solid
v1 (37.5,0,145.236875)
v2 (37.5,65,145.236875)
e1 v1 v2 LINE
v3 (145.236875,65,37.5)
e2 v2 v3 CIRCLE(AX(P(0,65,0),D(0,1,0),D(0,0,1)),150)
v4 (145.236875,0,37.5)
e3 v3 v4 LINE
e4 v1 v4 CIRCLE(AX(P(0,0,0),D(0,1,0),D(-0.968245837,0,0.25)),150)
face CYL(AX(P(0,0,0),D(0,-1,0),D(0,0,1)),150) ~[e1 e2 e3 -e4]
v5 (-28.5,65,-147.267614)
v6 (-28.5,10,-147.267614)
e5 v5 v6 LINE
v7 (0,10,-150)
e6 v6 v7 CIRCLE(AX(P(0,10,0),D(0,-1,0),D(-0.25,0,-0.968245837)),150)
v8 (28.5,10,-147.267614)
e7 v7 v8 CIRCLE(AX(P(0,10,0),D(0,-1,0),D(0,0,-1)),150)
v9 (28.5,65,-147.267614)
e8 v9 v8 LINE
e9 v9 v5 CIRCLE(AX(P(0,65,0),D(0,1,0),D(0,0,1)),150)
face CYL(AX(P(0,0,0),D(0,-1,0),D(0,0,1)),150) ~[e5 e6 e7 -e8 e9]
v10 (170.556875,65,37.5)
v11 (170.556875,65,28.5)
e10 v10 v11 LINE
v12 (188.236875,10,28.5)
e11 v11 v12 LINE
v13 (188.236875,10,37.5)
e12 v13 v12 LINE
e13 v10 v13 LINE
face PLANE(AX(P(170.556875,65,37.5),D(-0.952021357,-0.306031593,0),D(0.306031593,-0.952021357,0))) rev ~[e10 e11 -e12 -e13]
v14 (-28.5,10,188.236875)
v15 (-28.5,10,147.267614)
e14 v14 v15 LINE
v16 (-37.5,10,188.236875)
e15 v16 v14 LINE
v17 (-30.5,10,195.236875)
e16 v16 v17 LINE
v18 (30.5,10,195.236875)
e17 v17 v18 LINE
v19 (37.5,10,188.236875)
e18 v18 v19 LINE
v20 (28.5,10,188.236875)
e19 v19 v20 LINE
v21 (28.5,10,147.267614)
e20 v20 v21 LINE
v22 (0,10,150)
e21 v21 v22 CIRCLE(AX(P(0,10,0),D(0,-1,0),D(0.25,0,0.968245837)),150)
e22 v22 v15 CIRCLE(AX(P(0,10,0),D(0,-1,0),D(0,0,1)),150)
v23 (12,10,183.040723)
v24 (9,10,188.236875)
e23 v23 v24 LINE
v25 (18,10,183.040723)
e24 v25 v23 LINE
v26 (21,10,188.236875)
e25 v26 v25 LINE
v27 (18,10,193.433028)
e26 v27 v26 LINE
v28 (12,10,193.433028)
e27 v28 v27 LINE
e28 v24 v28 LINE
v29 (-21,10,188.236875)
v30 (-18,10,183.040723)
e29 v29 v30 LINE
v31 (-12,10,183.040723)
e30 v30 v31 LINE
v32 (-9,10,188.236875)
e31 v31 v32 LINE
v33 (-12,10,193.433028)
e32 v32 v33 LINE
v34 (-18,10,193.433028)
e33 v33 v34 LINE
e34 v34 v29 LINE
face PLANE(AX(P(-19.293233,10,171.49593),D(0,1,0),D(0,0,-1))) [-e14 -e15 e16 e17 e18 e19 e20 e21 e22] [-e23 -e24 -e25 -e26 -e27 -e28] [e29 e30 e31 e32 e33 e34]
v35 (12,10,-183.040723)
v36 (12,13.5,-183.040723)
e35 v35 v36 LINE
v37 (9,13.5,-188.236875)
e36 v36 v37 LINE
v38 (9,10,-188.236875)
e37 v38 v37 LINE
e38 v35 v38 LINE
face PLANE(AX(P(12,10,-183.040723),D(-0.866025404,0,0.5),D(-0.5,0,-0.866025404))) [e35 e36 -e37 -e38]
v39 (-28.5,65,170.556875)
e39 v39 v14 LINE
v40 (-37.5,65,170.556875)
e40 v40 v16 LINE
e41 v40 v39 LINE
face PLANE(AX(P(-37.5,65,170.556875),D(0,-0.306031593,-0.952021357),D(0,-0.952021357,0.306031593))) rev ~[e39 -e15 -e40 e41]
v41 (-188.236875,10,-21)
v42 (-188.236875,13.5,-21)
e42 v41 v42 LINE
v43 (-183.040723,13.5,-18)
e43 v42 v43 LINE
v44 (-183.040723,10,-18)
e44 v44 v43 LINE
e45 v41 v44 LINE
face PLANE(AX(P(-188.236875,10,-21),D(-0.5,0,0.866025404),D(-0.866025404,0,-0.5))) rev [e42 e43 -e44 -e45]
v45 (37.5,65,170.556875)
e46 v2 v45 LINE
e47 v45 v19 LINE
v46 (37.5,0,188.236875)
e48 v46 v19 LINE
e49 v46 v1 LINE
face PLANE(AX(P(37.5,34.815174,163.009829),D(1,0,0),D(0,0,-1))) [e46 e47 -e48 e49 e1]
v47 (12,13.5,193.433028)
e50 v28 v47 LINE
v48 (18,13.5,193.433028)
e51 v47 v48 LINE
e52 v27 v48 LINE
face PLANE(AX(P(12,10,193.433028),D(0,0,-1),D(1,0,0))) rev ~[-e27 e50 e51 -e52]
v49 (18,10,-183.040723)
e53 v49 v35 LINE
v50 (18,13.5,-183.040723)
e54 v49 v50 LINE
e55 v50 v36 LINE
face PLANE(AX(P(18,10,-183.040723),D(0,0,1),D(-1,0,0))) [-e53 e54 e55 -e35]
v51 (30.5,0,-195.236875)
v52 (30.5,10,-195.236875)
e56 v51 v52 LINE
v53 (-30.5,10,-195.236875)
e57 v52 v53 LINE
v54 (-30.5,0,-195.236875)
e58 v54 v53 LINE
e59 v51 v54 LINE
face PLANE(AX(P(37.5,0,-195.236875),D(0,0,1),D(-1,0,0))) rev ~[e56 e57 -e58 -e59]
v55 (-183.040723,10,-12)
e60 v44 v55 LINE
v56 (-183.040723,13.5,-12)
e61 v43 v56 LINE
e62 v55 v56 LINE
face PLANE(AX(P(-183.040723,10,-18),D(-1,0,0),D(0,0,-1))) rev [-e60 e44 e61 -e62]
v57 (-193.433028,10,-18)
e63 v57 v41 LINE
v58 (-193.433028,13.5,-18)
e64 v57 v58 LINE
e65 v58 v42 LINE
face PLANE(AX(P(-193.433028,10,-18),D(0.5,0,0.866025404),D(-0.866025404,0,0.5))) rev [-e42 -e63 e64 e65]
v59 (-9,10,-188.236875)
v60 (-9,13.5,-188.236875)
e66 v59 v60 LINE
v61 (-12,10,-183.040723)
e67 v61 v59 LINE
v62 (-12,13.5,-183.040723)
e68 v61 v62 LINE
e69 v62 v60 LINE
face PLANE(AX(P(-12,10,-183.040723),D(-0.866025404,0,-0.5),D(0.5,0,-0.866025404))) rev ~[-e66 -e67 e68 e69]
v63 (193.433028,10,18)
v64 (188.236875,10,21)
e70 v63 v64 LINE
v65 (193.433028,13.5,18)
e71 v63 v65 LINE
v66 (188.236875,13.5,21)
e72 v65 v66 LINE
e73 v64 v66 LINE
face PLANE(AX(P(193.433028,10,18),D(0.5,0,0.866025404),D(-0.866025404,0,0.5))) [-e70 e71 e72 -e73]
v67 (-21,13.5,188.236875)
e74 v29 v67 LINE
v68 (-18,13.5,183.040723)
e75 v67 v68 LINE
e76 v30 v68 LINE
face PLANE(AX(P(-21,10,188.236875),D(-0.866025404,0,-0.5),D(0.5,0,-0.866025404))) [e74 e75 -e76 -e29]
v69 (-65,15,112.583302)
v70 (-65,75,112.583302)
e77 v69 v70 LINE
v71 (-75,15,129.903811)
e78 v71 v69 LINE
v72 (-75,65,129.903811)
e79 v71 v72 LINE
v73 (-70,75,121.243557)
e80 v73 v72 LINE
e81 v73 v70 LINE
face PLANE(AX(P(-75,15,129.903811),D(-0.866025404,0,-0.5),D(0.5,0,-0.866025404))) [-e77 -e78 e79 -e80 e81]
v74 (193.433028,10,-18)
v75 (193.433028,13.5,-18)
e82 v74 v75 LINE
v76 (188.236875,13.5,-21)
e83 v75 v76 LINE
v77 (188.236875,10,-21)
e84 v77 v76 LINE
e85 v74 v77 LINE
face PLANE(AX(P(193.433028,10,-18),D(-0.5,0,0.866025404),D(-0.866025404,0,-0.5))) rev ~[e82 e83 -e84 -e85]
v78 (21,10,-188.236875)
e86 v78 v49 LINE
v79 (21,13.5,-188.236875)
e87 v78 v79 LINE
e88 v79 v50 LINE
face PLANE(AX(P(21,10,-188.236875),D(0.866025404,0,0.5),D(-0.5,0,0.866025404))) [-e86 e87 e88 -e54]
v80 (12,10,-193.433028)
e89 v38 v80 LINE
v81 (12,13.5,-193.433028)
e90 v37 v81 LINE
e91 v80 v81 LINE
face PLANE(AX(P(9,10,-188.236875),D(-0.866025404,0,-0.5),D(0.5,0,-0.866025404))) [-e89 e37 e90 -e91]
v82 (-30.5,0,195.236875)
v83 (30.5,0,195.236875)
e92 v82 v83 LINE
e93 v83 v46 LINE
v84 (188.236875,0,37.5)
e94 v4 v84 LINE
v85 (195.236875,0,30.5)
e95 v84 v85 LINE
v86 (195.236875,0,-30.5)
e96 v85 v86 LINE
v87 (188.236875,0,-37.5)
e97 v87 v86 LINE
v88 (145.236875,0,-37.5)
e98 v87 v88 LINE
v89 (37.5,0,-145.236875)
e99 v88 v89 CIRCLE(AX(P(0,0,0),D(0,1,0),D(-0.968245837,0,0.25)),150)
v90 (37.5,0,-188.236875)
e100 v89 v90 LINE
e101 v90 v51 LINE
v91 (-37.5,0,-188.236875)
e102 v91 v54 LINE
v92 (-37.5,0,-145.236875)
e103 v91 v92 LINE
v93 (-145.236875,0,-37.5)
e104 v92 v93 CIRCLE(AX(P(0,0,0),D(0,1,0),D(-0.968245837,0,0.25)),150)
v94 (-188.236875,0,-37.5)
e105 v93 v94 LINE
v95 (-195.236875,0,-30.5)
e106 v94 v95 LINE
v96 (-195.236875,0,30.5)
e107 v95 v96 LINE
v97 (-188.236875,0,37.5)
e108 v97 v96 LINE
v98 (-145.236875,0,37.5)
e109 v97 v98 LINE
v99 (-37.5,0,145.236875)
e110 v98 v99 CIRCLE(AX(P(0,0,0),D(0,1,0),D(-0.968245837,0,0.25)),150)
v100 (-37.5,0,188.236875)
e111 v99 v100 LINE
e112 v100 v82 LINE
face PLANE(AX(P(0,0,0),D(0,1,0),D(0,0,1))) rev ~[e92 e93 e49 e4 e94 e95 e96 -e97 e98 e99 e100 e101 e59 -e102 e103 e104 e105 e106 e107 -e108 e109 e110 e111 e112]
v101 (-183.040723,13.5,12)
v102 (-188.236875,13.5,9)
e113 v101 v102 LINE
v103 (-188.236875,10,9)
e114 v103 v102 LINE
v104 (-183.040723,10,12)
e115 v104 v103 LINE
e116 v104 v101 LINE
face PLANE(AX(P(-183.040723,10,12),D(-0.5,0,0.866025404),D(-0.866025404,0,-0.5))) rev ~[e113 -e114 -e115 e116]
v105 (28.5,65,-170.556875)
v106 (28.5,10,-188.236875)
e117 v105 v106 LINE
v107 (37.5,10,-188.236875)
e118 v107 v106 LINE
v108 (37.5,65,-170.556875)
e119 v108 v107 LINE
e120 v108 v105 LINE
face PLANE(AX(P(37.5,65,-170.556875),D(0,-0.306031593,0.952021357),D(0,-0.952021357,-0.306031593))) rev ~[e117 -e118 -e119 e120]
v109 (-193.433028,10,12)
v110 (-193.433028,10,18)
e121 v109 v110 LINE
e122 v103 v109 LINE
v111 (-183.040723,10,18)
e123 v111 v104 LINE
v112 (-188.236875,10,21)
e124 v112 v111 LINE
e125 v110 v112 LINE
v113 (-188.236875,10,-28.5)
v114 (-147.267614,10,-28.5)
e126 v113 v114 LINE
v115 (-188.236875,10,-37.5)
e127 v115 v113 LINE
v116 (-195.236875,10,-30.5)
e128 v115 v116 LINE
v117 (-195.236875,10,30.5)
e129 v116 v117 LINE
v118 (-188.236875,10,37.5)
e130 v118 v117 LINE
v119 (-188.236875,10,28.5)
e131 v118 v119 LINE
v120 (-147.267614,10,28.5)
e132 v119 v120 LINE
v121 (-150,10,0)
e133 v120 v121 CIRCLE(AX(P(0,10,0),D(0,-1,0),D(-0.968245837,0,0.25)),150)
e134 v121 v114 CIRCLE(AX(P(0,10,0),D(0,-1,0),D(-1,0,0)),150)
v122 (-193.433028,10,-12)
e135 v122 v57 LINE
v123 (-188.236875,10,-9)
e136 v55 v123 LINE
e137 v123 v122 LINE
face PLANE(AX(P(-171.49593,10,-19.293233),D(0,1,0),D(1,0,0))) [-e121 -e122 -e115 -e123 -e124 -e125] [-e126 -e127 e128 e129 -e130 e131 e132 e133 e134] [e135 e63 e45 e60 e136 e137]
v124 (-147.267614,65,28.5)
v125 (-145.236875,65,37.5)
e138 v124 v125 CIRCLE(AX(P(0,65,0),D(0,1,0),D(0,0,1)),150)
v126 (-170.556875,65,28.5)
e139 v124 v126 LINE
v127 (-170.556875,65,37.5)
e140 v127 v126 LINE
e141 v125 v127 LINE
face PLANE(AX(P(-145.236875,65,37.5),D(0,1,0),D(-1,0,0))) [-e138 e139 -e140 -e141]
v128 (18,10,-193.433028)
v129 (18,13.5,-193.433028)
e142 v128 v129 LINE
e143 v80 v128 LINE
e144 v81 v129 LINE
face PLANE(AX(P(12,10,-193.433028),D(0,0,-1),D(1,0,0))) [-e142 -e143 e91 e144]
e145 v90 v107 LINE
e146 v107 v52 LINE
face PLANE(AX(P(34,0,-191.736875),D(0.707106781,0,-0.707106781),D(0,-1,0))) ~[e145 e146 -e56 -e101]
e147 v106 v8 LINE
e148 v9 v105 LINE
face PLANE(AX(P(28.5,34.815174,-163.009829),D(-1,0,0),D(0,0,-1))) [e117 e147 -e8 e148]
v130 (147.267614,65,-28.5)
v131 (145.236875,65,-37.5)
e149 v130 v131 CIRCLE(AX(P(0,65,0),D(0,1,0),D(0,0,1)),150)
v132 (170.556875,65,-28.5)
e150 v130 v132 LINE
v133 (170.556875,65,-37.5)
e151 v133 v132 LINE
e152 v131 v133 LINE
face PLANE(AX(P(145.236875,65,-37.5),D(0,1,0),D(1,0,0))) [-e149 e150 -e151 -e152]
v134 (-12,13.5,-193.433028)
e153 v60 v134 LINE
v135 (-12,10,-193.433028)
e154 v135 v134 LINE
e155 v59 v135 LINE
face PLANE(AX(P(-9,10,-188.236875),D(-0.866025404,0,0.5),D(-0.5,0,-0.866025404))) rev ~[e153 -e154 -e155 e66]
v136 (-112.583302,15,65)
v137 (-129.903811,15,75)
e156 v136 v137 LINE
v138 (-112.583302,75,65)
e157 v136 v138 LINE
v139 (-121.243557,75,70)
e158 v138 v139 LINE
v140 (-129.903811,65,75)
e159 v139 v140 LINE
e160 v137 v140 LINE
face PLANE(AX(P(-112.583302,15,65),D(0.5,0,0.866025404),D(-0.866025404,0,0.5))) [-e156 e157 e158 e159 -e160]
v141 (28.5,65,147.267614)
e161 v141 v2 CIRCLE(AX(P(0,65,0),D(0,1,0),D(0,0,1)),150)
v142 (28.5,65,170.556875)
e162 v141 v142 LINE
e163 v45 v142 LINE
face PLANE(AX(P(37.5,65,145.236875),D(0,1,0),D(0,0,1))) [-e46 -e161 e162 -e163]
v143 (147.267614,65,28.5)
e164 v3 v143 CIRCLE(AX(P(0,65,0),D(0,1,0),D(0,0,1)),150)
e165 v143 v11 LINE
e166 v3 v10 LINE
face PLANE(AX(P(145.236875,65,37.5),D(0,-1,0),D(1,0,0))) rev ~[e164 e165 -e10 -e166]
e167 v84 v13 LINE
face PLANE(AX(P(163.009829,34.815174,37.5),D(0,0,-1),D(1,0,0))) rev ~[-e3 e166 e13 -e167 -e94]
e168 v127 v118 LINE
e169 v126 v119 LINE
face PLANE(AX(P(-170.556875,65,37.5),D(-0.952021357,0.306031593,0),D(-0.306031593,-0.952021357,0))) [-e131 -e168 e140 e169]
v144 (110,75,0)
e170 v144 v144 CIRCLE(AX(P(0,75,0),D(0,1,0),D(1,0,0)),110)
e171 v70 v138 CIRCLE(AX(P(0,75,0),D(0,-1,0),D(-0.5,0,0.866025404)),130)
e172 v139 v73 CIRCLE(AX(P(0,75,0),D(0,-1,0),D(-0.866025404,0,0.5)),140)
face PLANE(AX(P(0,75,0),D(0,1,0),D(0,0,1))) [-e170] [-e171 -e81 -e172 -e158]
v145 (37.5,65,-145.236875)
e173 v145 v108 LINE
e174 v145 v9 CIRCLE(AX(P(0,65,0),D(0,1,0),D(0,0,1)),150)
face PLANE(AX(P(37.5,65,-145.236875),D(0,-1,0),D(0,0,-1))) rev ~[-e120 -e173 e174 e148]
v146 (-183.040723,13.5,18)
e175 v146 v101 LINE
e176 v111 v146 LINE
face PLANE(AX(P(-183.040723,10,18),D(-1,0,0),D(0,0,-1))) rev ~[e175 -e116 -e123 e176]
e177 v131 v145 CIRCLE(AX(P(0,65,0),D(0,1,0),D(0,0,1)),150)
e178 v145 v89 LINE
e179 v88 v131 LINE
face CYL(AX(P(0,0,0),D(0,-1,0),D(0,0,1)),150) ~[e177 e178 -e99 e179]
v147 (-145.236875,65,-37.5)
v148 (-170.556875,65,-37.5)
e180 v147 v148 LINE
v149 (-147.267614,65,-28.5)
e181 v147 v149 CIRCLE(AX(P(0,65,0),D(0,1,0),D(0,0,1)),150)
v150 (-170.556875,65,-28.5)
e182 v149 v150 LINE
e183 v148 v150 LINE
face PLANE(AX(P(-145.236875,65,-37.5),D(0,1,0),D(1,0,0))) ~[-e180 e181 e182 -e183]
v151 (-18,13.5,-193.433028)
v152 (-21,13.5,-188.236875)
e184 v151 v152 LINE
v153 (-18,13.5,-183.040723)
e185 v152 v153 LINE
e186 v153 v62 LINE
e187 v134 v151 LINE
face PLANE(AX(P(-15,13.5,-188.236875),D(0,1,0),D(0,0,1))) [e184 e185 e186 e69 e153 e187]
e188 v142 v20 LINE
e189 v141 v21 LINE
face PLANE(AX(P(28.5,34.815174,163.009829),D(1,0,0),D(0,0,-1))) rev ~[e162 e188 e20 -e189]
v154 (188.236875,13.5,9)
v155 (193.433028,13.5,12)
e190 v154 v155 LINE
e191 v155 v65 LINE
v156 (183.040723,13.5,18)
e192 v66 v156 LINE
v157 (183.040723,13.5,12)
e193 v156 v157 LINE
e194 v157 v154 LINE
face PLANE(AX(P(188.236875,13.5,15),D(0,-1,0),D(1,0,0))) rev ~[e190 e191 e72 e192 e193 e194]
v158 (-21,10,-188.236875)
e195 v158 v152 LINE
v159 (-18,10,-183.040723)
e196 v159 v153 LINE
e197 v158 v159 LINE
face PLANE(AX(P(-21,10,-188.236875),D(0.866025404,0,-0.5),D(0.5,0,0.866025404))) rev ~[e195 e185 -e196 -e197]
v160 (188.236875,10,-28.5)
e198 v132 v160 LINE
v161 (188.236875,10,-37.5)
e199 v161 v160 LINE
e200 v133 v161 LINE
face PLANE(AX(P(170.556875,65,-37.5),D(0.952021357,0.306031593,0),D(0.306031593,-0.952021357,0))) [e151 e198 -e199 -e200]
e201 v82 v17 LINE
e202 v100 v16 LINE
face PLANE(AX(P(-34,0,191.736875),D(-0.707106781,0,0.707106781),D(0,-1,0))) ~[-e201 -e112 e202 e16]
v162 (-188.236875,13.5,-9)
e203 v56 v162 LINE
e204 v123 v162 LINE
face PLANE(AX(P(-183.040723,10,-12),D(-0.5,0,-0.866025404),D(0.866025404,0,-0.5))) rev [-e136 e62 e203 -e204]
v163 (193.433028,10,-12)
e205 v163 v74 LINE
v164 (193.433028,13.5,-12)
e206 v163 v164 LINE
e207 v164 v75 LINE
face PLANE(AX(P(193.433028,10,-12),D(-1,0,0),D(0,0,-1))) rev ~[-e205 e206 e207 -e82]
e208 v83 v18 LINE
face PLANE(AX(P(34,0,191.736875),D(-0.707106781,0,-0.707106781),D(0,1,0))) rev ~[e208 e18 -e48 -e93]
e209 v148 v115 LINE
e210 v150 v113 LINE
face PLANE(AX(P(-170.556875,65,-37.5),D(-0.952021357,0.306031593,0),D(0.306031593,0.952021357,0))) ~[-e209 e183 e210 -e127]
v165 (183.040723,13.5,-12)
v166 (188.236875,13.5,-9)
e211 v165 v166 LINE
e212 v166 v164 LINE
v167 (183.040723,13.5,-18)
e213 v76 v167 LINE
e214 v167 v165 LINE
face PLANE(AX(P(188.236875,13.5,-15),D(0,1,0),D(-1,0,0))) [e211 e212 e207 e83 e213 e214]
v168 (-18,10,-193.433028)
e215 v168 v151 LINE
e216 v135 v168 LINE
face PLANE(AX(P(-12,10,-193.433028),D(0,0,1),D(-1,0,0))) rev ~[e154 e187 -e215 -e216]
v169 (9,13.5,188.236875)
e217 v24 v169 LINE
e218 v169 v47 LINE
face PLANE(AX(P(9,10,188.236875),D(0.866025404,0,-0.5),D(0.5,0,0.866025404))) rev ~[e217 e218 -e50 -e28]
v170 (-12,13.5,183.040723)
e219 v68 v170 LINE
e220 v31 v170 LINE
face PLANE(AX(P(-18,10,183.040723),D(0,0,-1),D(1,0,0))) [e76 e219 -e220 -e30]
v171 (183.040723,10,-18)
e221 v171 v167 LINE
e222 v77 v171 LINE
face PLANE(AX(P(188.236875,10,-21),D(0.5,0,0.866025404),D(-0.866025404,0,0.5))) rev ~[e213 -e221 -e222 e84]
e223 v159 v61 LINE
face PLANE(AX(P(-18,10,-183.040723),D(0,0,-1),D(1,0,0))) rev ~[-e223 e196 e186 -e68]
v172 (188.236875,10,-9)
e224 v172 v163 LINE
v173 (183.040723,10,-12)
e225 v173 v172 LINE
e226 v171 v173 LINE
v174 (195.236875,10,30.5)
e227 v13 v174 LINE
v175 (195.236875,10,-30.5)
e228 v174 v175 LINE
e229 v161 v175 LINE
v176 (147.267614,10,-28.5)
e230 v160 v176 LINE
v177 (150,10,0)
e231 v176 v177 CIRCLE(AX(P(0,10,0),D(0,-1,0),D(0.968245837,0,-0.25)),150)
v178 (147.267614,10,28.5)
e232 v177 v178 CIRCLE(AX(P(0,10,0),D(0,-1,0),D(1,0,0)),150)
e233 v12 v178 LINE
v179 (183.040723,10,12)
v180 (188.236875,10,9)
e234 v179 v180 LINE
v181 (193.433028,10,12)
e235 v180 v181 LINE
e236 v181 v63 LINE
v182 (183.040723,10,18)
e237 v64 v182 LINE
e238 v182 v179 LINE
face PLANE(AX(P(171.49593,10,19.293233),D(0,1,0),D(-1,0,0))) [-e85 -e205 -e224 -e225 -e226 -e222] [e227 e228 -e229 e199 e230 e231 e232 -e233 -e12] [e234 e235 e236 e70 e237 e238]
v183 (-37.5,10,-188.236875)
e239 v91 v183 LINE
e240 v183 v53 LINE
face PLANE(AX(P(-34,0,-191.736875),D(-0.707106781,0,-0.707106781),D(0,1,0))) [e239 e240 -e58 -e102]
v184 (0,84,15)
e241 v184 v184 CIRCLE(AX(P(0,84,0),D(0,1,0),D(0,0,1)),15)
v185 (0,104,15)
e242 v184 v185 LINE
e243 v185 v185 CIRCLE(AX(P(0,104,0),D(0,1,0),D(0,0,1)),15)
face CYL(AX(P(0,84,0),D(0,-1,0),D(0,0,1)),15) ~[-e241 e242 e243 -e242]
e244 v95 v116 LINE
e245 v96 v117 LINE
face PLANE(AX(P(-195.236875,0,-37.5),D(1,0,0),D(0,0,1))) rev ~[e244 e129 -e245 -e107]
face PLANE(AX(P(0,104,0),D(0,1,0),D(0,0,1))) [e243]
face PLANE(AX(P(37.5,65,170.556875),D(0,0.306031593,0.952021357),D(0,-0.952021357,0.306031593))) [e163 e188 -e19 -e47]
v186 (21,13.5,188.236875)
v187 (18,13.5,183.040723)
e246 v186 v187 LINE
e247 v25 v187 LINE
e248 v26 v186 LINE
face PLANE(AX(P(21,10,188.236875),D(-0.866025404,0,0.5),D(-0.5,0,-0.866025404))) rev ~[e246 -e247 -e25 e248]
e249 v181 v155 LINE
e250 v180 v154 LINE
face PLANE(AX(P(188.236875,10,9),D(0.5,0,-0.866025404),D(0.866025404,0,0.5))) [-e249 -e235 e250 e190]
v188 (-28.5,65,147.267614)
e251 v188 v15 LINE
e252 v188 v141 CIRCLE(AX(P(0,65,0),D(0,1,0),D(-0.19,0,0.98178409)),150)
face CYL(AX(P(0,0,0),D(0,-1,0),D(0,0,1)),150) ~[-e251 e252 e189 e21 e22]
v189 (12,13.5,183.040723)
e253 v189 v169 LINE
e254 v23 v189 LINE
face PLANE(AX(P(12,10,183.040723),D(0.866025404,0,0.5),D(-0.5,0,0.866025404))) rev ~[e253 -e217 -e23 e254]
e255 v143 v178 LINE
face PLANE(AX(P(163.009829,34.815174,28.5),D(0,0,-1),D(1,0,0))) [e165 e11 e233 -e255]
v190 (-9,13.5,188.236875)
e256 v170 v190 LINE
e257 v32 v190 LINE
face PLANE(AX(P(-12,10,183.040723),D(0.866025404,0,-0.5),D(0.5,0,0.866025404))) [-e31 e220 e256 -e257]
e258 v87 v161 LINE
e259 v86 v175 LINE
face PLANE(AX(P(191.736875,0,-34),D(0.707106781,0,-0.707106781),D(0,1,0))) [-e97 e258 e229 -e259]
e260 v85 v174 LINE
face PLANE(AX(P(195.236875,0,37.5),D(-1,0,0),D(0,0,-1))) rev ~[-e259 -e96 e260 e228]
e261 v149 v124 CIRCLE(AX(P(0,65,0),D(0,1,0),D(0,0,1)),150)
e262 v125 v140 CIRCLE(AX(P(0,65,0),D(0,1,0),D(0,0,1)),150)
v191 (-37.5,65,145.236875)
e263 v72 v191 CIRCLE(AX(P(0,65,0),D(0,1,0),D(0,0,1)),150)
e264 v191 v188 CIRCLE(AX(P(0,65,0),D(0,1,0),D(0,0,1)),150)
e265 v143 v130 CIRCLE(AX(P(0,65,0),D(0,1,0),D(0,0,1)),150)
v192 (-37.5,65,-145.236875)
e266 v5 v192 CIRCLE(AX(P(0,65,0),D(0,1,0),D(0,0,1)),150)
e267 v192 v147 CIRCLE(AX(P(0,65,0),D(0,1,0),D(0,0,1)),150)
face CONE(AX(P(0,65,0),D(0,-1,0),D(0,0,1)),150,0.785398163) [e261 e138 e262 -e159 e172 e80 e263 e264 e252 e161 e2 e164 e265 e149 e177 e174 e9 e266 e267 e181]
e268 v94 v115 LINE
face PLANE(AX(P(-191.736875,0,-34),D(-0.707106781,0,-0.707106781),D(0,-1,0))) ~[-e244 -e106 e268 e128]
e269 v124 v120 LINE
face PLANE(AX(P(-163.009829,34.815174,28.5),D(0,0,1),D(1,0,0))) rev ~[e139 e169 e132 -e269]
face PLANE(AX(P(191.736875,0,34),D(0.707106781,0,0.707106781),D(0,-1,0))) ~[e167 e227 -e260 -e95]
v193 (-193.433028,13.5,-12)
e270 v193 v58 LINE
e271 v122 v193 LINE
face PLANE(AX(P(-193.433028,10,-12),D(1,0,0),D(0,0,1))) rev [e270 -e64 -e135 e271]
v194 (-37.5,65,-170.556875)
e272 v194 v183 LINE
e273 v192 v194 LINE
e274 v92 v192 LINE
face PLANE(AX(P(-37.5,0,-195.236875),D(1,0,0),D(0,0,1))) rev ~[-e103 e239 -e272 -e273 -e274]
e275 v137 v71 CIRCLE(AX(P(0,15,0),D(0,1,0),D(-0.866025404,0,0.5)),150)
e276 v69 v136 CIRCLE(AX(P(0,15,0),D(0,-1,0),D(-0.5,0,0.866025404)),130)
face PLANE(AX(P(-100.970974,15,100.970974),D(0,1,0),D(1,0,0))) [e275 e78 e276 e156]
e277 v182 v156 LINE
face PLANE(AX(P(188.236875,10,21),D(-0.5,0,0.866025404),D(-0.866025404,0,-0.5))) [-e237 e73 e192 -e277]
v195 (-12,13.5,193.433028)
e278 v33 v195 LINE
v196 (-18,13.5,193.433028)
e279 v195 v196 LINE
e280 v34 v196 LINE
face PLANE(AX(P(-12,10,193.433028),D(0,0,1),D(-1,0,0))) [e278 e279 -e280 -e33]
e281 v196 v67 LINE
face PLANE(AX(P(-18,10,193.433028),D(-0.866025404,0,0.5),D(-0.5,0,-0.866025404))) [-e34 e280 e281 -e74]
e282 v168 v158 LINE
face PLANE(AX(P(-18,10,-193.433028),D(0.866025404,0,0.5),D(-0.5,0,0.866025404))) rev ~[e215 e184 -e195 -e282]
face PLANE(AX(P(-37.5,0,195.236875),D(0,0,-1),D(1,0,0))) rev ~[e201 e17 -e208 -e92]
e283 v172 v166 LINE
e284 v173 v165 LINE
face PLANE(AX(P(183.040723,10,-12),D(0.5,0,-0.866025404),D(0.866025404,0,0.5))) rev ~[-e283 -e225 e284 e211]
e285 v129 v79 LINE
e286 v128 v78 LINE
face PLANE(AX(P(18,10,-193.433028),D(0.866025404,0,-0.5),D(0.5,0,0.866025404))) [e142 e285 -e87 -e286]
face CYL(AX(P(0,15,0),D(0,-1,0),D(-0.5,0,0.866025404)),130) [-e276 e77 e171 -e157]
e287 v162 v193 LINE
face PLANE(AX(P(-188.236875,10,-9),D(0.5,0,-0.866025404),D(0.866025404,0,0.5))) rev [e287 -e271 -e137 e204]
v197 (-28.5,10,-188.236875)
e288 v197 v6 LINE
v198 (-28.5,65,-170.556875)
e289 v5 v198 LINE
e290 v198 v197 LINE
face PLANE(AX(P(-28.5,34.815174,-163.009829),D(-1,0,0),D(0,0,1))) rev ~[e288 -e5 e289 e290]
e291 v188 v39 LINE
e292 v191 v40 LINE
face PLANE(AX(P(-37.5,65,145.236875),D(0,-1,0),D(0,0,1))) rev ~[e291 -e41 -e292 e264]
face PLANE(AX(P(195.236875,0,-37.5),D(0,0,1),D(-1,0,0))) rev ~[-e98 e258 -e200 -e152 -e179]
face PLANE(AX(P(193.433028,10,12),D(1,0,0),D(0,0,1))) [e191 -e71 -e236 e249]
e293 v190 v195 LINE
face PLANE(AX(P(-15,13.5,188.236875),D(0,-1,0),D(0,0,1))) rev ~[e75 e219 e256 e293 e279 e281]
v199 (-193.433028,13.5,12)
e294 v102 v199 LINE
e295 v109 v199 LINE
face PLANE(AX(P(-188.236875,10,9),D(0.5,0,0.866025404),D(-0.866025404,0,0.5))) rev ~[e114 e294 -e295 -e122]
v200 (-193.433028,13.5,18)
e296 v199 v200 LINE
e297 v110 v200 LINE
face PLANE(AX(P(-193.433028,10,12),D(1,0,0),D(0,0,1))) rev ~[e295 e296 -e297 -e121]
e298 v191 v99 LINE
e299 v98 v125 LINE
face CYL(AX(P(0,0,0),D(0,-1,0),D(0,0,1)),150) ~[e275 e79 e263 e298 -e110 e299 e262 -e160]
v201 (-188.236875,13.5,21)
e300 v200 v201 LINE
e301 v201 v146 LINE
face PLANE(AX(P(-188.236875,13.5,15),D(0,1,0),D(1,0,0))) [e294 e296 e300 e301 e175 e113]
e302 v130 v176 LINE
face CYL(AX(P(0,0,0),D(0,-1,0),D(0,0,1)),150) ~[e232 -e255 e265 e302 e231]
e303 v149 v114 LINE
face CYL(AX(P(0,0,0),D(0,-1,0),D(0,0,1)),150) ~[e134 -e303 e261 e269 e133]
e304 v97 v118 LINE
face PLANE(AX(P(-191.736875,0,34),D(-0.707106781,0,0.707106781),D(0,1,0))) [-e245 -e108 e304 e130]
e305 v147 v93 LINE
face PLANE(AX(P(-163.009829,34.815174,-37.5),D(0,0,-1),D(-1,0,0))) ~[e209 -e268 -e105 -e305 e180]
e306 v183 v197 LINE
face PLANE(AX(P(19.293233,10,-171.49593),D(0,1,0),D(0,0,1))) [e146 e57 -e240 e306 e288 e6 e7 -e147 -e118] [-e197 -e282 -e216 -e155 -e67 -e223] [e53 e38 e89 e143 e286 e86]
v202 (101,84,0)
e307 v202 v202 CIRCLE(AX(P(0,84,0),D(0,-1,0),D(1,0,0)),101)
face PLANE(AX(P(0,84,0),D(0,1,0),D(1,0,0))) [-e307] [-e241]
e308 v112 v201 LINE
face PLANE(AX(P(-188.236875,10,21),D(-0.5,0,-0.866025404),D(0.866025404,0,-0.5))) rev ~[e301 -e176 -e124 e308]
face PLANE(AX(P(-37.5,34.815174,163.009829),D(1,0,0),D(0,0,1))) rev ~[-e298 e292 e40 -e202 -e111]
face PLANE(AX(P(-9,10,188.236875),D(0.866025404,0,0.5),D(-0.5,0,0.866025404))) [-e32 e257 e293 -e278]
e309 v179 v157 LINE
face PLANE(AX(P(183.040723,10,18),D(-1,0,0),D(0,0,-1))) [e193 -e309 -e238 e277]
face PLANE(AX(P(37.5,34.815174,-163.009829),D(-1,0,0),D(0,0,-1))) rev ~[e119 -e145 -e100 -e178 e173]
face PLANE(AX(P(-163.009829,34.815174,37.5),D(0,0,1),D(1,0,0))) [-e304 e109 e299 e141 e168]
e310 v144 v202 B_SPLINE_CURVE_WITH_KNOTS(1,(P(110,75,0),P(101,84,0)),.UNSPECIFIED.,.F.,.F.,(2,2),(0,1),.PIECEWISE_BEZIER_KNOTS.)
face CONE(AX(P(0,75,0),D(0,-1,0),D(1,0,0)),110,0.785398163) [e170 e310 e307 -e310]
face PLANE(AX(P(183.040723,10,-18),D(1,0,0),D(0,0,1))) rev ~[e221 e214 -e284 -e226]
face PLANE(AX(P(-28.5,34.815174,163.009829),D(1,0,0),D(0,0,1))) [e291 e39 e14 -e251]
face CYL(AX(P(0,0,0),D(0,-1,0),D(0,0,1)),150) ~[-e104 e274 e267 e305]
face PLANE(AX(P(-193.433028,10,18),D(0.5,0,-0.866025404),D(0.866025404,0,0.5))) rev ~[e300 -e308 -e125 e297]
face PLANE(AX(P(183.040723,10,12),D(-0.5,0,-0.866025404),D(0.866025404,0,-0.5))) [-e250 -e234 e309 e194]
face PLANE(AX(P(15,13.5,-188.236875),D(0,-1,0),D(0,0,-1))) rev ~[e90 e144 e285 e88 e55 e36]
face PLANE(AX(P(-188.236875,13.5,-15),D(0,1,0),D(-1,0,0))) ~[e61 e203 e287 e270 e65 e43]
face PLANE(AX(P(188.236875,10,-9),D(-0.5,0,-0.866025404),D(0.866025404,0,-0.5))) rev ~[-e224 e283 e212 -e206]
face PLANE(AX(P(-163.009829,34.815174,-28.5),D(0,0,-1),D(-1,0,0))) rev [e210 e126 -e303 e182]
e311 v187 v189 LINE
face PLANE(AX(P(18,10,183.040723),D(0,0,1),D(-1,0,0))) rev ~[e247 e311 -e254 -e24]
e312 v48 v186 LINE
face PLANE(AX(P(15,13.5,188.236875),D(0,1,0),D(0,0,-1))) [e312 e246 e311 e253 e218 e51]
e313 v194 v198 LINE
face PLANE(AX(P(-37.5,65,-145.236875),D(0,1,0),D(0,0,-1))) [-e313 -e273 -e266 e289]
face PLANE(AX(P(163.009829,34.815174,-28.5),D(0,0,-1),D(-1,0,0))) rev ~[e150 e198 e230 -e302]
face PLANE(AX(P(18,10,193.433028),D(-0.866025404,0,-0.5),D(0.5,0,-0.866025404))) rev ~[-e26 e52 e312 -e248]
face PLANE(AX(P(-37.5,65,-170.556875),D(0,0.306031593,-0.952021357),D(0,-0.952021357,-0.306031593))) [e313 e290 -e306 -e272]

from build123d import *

# Parameters (mm, degrees)
SKETCH1_R                    = 150
BOSS_EXTRUDE1_DEPTH          = 75
CHAMFER1_SIZE                = 10
BOSS_EXTRUDE2_START          = -75
BOSS_EXTRUDE2_DEPTH          = 10
CHAMFER2_SIZE                = 7
BOSS_EXTRUDE3_DEPTH          = 9
BOSS_EXTRUDE4_DEPTH          = 3.5
CIRPATTERN1_COUNT            = 4
CIRPATTERN1_COPY_1_DEPTH     = 9
CIRPATTERN1_COPY_2_DEPTH     = 9
CIRPATTERN1_COPY_3_DEPTH     = 9
CIRPATTERN1_COPY_4_DEPTH     = 3.5
CIRPATTERN1_COPY_5_DEPTH     = 3.5
CIRPATTERN1_COPY_6_DEPTH     = 3.5
CHAMFER2_OF_CIRPATTERN1_SIZE = 7
CUT_EXTRUDE1_START           = -60
CUT_EXTRUDE1_DEPTH           = 60
SKETCH7_R                    = 110
BOSS_EXTRUDE5_DEPTH          = 9
BOSS_EXTRUDE5_TAPER          = 45
SKETCH8_R                    = 15
BOSS_EXTRUDE6_DEPTH          = 20


with BuildPart() as part:
    # Sketch1 → Boss-Extrude1 (new body)
    with BuildSketch(Plane(origin=(0, 0, 0), x_dir=(1, 0, 0), z_dir=(0, 1, 0))):
        with Locations(Location((0, 0, 0), (0, 0, 270))):
            Circle(SKETCH1_R)
    extrude(amount=BOSS_EXTRUDE1_DEPTH)

    # Chamfer1
    chamfer1_edges = [part.edges().sort_by_distance(p)[0] for p in [
        (0, 75, -150),
    ]]
    chamfer(chamfer1_edges, length=CHAMFER1_SIZE)

    # Sketch2 → Boss-Extrude2 (add)
    with BuildSketch(Plane(origin=(0, 75, 0), x_dir=(1, 0, 0), z_dir=(0, 1, 0)).offset(BOSS_EXTRUDE2_START)):
        with BuildLine():
            Line((-195.236875483, 0), (-150, 0))
            ThreePointArc((-150, 0), (-148.80445444, 18.900643872), (-145.236875483, 37.5))
            Line((-145.236875483, 37.5), (-195.236875483, 37.5))
            Line((-195.236875483, 37.5), (-195.236875483, 0))
        make_face()
        with BuildLine():
            ThreePointArc((-145.236875483, -37.5), (-148.80445444, -18.900643872), (-150, 0))
            Line((-150, 0), (-195.236875483, 0))
            Line((-195.236875483, 0), (-195.236875483, -37.5))
            Line((-195.236875483, -37.5), (-145.236875483, -37.5))
        make_face()
    boss_extrude2 = extrude(amount=BOSS_EXTRUDE2_DEPTH)

    # Chamfer2
    chamfer2_edges = [part.edges().sort_by_distance(p)[0] for p in [
        (-195.236875483, 5, -37.5),
        (-195.236875483, 5, 37.5),
    ]]
    chamfer(chamfer2_edges, length=CHAMFER2_SIZE)

    # Sketch3 → Boss-Extrude3 (add)
    with BuildSketch(Plane.XY.offset(37.5)):
        Polygon((-188.236875483, 10), (-145.236875483, 10), (-145.236875483, 65), (-170.556875483, 65), align=None)
    boss_extrude3 = extrude(amount=-BOSS_EXTRUDE3_DEPTH)

    # Sketch5 → Boss-Extrude4 (add)
    with BuildSketch(Plane(origin=(0, 10, 0), x_dir=(1, 0, 0), z_dir=(0, 1, 0))):
        Polygon((-183.04072306, -18), (-183.04072306, -12), (-188.236875483, -9), (-193.433027905, -12), (-193.433027905, -18), (-188.236875483, -21), align=None)
    boss_extrude4 = extrude(amount=BOSS_EXTRUDE4_DEPTH)

    # Mirror1: Boss-Extrude3, Boss-Extrude4 across plane
    add(boss_extrude3.mirror(Plane.XY))
    add(boss_extrude4.mirror(Plane.XY))

    # CirPattern1: Boss-Extrude2, Boss-Extrude3, Boss-Extrude4 ×4 about axis
    cirpattern1_axis = Axis((0, 0, 0), (0, 1, 0))
    add([boss_extrude2.rotate(cirpattern1_axis, i * 360 / CIRPATTERN1_COUNT) for i in range(1, CIRPATTERN1_COUNT)])
    add([boss_extrude3.rotate(cirpattern1_axis, i * 360 / CIRPATTERN1_COUNT) for i in range(1, CIRPATTERN1_COUNT)])
    add([boss_extrude4.rotate(cirpattern1_axis, i * 360 / CIRPATTERN1_COUNT) for i in range(1, CIRPATTERN1_COUNT)])

    # CirPattern1 copy 1 sketch → CirPattern1 copy 1 (add)
    with BuildSketch(Plane(origin=(-37.5, 0, 0), x_dir=(0, 0, -1), z_dir=(-1, 0, 0))):
        Polygon((-188.236875483, -10), (-145.236875483, -10), (-145.236875483, -65), (-170.556875483, -65), align=None)
    extrude(amount=-CIRPATTERN1_COPY_1_DEPTH)

    # CirPattern1 copy 2 sketch → CirPattern1 copy 2 (add)
    with BuildSketch(Plane(origin=(0, 0, 37.5), x_dir=(-1, 0, 0), z_dir=(0, 0, 1))):
        Polygon((-188.236875483, -10), (-145.236875483, -10), (-145.236875483, -65), (-170.556875483, -65), align=None)
    extrude(amount=-CIRPATTERN1_COPY_2_DEPTH)

    # CirPattern1 copy 3 sketch → CirPattern1 copy 3 (add)
    with BuildSketch(Plane(origin=(37.5, 0, 0), x_dir=(0, 0, 1), z_dir=(1, 0, 0))):
        Polygon((-188.236875483, -10), (-145.236875483, -10), (-145.236875483, -65), (-170.556875483, -65), align=None)
    extrude(amount=-CIRPATTERN1_COPY_3_DEPTH)

    # CirPattern1 copy 4 sketch → CirPattern1 copy 4 (add)
    with BuildSketch(Plane(origin=(0, 10, 0), x_dir=(0, 0, -1), z_dir=(0, 1, 0))):
        Polygon((-183.04072306, 18), (-183.04072306, 12), (-188.236875483, 9), (-193.433027905, 12), (-193.433027905, 18), (-188.236875483, 21), align=None)
    extrude(amount=CIRPATTERN1_COPY_4_DEPTH)

    # CirPattern1 copy 5 sketch → CirPattern1 copy 5 (add)
    with BuildSketch(Plane(origin=(0, 10, 0), x_dir=(-1, 0, 0), z_dir=(0, 1, 0))):
        Polygon((-183.04072306, 18), (-183.04072306, 12), (-188.236875483, 9), (-193.433027905, 12), (-193.433027905, 18), (-188.236875483, 21), align=None)
    extrude(amount=CIRPATTERN1_COPY_5_DEPTH)

    # CirPattern1 copy 6 sketch → CirPattern1 copy 6 (add)
    with BuildSketch(Plane.ZX.offset(10)):
        Polygon((-183.04072306, 18), (-183.04072306, 12), (-188.236875483, 9), (-193.433027905, 12), (-193.433027905, 18), (-188.236875483, 21), align=None)
    extrude(amount=CIRPATTERN1_COPY_6_DEPTH)

    # Chamfer2 of CirPattern1
    chamfer2_of_cirpattern1_edges = [part.edges().sort_by_distance(p)[0] for p in [
        (-37.5, 5, 195.236875483),
        (37.5, 5, 195.236875483),
        (195.236875483, 5, 37.5),
        (195.236875483, 5, -37.5),
        (37.5, 5, -195.236875483),
        (-37.5, 5, -195.236875483),
    ]]
    chamfer(chamfer2_of_cirpattern1_edges, length=CHAMFER2_OF_CIRPATTERN1_SIZE)

    # Sketch6 → Cut-Extrude1 (cut)
    with BuildSketch(Plane(origin=(0, 75, 0), x_dir=(1, 0, 0), z_dir=(0, 1, 0)).offset(CUT_EXTRUDE1_START)):
        with BuildLine():
            ThreePointArc((-70, -121.24355653), (-98.994949366, -98.994949366), (-121.24355653, -70))
            Line((-121.24355653, -70), (-129.903810568, -75))
            ThreePointArc((-129.903810568, -75), (-106.066017178, -106.066017178), (-75, -129.903810568))
            Line((-75, -129.903810568), (-70, -121.24355653))
        make_face()
        with BuildLine():
            ThreePointArc((-65, -112.583302492), (-91.923881554, -91.923881554), (-112.583302492, -65))
            Line((-112.583302492, -65), (-121.24355653, -70))
            ThreePointArc((-121.24355653, -70), (-98.994949366, -98.994949366), (-70, -121.24355653))
            Line((-70, -121.24355653), (-65, -112.583302492))
        make_face()
    extrude(amount=CUT_EXTRUDE1_DEPTH, mode=Mode.SUBTRACT)

    # Sketch7 → Boss-Extrude5 (add)
    with BuildSketch(Plane(origin=(0, 75, 0), x_dir=(1, 0, 0), z_dir=(0, 1, 0))):
        Circle(SKETCH7_R)
    extrude(amount=BOSS_EXTRUDE5_DEPTH, taper=BOSS_EXTRUDE5_TAPER)

    # Sketch8 → Boss-Extrude6 (add)
    with BuildSketch(Plane(origin=(0, 84, 0), x_dir=(1, 0, 0), z_dir=(0, 1, 0))):
        with Locations(Location((0, 0, 0), (0, 0, 270))):
            Circle(SKETCH8_R)
    extrude(amount=BOSS_EXTRUDE6_DEPTH)


solid = part.part
